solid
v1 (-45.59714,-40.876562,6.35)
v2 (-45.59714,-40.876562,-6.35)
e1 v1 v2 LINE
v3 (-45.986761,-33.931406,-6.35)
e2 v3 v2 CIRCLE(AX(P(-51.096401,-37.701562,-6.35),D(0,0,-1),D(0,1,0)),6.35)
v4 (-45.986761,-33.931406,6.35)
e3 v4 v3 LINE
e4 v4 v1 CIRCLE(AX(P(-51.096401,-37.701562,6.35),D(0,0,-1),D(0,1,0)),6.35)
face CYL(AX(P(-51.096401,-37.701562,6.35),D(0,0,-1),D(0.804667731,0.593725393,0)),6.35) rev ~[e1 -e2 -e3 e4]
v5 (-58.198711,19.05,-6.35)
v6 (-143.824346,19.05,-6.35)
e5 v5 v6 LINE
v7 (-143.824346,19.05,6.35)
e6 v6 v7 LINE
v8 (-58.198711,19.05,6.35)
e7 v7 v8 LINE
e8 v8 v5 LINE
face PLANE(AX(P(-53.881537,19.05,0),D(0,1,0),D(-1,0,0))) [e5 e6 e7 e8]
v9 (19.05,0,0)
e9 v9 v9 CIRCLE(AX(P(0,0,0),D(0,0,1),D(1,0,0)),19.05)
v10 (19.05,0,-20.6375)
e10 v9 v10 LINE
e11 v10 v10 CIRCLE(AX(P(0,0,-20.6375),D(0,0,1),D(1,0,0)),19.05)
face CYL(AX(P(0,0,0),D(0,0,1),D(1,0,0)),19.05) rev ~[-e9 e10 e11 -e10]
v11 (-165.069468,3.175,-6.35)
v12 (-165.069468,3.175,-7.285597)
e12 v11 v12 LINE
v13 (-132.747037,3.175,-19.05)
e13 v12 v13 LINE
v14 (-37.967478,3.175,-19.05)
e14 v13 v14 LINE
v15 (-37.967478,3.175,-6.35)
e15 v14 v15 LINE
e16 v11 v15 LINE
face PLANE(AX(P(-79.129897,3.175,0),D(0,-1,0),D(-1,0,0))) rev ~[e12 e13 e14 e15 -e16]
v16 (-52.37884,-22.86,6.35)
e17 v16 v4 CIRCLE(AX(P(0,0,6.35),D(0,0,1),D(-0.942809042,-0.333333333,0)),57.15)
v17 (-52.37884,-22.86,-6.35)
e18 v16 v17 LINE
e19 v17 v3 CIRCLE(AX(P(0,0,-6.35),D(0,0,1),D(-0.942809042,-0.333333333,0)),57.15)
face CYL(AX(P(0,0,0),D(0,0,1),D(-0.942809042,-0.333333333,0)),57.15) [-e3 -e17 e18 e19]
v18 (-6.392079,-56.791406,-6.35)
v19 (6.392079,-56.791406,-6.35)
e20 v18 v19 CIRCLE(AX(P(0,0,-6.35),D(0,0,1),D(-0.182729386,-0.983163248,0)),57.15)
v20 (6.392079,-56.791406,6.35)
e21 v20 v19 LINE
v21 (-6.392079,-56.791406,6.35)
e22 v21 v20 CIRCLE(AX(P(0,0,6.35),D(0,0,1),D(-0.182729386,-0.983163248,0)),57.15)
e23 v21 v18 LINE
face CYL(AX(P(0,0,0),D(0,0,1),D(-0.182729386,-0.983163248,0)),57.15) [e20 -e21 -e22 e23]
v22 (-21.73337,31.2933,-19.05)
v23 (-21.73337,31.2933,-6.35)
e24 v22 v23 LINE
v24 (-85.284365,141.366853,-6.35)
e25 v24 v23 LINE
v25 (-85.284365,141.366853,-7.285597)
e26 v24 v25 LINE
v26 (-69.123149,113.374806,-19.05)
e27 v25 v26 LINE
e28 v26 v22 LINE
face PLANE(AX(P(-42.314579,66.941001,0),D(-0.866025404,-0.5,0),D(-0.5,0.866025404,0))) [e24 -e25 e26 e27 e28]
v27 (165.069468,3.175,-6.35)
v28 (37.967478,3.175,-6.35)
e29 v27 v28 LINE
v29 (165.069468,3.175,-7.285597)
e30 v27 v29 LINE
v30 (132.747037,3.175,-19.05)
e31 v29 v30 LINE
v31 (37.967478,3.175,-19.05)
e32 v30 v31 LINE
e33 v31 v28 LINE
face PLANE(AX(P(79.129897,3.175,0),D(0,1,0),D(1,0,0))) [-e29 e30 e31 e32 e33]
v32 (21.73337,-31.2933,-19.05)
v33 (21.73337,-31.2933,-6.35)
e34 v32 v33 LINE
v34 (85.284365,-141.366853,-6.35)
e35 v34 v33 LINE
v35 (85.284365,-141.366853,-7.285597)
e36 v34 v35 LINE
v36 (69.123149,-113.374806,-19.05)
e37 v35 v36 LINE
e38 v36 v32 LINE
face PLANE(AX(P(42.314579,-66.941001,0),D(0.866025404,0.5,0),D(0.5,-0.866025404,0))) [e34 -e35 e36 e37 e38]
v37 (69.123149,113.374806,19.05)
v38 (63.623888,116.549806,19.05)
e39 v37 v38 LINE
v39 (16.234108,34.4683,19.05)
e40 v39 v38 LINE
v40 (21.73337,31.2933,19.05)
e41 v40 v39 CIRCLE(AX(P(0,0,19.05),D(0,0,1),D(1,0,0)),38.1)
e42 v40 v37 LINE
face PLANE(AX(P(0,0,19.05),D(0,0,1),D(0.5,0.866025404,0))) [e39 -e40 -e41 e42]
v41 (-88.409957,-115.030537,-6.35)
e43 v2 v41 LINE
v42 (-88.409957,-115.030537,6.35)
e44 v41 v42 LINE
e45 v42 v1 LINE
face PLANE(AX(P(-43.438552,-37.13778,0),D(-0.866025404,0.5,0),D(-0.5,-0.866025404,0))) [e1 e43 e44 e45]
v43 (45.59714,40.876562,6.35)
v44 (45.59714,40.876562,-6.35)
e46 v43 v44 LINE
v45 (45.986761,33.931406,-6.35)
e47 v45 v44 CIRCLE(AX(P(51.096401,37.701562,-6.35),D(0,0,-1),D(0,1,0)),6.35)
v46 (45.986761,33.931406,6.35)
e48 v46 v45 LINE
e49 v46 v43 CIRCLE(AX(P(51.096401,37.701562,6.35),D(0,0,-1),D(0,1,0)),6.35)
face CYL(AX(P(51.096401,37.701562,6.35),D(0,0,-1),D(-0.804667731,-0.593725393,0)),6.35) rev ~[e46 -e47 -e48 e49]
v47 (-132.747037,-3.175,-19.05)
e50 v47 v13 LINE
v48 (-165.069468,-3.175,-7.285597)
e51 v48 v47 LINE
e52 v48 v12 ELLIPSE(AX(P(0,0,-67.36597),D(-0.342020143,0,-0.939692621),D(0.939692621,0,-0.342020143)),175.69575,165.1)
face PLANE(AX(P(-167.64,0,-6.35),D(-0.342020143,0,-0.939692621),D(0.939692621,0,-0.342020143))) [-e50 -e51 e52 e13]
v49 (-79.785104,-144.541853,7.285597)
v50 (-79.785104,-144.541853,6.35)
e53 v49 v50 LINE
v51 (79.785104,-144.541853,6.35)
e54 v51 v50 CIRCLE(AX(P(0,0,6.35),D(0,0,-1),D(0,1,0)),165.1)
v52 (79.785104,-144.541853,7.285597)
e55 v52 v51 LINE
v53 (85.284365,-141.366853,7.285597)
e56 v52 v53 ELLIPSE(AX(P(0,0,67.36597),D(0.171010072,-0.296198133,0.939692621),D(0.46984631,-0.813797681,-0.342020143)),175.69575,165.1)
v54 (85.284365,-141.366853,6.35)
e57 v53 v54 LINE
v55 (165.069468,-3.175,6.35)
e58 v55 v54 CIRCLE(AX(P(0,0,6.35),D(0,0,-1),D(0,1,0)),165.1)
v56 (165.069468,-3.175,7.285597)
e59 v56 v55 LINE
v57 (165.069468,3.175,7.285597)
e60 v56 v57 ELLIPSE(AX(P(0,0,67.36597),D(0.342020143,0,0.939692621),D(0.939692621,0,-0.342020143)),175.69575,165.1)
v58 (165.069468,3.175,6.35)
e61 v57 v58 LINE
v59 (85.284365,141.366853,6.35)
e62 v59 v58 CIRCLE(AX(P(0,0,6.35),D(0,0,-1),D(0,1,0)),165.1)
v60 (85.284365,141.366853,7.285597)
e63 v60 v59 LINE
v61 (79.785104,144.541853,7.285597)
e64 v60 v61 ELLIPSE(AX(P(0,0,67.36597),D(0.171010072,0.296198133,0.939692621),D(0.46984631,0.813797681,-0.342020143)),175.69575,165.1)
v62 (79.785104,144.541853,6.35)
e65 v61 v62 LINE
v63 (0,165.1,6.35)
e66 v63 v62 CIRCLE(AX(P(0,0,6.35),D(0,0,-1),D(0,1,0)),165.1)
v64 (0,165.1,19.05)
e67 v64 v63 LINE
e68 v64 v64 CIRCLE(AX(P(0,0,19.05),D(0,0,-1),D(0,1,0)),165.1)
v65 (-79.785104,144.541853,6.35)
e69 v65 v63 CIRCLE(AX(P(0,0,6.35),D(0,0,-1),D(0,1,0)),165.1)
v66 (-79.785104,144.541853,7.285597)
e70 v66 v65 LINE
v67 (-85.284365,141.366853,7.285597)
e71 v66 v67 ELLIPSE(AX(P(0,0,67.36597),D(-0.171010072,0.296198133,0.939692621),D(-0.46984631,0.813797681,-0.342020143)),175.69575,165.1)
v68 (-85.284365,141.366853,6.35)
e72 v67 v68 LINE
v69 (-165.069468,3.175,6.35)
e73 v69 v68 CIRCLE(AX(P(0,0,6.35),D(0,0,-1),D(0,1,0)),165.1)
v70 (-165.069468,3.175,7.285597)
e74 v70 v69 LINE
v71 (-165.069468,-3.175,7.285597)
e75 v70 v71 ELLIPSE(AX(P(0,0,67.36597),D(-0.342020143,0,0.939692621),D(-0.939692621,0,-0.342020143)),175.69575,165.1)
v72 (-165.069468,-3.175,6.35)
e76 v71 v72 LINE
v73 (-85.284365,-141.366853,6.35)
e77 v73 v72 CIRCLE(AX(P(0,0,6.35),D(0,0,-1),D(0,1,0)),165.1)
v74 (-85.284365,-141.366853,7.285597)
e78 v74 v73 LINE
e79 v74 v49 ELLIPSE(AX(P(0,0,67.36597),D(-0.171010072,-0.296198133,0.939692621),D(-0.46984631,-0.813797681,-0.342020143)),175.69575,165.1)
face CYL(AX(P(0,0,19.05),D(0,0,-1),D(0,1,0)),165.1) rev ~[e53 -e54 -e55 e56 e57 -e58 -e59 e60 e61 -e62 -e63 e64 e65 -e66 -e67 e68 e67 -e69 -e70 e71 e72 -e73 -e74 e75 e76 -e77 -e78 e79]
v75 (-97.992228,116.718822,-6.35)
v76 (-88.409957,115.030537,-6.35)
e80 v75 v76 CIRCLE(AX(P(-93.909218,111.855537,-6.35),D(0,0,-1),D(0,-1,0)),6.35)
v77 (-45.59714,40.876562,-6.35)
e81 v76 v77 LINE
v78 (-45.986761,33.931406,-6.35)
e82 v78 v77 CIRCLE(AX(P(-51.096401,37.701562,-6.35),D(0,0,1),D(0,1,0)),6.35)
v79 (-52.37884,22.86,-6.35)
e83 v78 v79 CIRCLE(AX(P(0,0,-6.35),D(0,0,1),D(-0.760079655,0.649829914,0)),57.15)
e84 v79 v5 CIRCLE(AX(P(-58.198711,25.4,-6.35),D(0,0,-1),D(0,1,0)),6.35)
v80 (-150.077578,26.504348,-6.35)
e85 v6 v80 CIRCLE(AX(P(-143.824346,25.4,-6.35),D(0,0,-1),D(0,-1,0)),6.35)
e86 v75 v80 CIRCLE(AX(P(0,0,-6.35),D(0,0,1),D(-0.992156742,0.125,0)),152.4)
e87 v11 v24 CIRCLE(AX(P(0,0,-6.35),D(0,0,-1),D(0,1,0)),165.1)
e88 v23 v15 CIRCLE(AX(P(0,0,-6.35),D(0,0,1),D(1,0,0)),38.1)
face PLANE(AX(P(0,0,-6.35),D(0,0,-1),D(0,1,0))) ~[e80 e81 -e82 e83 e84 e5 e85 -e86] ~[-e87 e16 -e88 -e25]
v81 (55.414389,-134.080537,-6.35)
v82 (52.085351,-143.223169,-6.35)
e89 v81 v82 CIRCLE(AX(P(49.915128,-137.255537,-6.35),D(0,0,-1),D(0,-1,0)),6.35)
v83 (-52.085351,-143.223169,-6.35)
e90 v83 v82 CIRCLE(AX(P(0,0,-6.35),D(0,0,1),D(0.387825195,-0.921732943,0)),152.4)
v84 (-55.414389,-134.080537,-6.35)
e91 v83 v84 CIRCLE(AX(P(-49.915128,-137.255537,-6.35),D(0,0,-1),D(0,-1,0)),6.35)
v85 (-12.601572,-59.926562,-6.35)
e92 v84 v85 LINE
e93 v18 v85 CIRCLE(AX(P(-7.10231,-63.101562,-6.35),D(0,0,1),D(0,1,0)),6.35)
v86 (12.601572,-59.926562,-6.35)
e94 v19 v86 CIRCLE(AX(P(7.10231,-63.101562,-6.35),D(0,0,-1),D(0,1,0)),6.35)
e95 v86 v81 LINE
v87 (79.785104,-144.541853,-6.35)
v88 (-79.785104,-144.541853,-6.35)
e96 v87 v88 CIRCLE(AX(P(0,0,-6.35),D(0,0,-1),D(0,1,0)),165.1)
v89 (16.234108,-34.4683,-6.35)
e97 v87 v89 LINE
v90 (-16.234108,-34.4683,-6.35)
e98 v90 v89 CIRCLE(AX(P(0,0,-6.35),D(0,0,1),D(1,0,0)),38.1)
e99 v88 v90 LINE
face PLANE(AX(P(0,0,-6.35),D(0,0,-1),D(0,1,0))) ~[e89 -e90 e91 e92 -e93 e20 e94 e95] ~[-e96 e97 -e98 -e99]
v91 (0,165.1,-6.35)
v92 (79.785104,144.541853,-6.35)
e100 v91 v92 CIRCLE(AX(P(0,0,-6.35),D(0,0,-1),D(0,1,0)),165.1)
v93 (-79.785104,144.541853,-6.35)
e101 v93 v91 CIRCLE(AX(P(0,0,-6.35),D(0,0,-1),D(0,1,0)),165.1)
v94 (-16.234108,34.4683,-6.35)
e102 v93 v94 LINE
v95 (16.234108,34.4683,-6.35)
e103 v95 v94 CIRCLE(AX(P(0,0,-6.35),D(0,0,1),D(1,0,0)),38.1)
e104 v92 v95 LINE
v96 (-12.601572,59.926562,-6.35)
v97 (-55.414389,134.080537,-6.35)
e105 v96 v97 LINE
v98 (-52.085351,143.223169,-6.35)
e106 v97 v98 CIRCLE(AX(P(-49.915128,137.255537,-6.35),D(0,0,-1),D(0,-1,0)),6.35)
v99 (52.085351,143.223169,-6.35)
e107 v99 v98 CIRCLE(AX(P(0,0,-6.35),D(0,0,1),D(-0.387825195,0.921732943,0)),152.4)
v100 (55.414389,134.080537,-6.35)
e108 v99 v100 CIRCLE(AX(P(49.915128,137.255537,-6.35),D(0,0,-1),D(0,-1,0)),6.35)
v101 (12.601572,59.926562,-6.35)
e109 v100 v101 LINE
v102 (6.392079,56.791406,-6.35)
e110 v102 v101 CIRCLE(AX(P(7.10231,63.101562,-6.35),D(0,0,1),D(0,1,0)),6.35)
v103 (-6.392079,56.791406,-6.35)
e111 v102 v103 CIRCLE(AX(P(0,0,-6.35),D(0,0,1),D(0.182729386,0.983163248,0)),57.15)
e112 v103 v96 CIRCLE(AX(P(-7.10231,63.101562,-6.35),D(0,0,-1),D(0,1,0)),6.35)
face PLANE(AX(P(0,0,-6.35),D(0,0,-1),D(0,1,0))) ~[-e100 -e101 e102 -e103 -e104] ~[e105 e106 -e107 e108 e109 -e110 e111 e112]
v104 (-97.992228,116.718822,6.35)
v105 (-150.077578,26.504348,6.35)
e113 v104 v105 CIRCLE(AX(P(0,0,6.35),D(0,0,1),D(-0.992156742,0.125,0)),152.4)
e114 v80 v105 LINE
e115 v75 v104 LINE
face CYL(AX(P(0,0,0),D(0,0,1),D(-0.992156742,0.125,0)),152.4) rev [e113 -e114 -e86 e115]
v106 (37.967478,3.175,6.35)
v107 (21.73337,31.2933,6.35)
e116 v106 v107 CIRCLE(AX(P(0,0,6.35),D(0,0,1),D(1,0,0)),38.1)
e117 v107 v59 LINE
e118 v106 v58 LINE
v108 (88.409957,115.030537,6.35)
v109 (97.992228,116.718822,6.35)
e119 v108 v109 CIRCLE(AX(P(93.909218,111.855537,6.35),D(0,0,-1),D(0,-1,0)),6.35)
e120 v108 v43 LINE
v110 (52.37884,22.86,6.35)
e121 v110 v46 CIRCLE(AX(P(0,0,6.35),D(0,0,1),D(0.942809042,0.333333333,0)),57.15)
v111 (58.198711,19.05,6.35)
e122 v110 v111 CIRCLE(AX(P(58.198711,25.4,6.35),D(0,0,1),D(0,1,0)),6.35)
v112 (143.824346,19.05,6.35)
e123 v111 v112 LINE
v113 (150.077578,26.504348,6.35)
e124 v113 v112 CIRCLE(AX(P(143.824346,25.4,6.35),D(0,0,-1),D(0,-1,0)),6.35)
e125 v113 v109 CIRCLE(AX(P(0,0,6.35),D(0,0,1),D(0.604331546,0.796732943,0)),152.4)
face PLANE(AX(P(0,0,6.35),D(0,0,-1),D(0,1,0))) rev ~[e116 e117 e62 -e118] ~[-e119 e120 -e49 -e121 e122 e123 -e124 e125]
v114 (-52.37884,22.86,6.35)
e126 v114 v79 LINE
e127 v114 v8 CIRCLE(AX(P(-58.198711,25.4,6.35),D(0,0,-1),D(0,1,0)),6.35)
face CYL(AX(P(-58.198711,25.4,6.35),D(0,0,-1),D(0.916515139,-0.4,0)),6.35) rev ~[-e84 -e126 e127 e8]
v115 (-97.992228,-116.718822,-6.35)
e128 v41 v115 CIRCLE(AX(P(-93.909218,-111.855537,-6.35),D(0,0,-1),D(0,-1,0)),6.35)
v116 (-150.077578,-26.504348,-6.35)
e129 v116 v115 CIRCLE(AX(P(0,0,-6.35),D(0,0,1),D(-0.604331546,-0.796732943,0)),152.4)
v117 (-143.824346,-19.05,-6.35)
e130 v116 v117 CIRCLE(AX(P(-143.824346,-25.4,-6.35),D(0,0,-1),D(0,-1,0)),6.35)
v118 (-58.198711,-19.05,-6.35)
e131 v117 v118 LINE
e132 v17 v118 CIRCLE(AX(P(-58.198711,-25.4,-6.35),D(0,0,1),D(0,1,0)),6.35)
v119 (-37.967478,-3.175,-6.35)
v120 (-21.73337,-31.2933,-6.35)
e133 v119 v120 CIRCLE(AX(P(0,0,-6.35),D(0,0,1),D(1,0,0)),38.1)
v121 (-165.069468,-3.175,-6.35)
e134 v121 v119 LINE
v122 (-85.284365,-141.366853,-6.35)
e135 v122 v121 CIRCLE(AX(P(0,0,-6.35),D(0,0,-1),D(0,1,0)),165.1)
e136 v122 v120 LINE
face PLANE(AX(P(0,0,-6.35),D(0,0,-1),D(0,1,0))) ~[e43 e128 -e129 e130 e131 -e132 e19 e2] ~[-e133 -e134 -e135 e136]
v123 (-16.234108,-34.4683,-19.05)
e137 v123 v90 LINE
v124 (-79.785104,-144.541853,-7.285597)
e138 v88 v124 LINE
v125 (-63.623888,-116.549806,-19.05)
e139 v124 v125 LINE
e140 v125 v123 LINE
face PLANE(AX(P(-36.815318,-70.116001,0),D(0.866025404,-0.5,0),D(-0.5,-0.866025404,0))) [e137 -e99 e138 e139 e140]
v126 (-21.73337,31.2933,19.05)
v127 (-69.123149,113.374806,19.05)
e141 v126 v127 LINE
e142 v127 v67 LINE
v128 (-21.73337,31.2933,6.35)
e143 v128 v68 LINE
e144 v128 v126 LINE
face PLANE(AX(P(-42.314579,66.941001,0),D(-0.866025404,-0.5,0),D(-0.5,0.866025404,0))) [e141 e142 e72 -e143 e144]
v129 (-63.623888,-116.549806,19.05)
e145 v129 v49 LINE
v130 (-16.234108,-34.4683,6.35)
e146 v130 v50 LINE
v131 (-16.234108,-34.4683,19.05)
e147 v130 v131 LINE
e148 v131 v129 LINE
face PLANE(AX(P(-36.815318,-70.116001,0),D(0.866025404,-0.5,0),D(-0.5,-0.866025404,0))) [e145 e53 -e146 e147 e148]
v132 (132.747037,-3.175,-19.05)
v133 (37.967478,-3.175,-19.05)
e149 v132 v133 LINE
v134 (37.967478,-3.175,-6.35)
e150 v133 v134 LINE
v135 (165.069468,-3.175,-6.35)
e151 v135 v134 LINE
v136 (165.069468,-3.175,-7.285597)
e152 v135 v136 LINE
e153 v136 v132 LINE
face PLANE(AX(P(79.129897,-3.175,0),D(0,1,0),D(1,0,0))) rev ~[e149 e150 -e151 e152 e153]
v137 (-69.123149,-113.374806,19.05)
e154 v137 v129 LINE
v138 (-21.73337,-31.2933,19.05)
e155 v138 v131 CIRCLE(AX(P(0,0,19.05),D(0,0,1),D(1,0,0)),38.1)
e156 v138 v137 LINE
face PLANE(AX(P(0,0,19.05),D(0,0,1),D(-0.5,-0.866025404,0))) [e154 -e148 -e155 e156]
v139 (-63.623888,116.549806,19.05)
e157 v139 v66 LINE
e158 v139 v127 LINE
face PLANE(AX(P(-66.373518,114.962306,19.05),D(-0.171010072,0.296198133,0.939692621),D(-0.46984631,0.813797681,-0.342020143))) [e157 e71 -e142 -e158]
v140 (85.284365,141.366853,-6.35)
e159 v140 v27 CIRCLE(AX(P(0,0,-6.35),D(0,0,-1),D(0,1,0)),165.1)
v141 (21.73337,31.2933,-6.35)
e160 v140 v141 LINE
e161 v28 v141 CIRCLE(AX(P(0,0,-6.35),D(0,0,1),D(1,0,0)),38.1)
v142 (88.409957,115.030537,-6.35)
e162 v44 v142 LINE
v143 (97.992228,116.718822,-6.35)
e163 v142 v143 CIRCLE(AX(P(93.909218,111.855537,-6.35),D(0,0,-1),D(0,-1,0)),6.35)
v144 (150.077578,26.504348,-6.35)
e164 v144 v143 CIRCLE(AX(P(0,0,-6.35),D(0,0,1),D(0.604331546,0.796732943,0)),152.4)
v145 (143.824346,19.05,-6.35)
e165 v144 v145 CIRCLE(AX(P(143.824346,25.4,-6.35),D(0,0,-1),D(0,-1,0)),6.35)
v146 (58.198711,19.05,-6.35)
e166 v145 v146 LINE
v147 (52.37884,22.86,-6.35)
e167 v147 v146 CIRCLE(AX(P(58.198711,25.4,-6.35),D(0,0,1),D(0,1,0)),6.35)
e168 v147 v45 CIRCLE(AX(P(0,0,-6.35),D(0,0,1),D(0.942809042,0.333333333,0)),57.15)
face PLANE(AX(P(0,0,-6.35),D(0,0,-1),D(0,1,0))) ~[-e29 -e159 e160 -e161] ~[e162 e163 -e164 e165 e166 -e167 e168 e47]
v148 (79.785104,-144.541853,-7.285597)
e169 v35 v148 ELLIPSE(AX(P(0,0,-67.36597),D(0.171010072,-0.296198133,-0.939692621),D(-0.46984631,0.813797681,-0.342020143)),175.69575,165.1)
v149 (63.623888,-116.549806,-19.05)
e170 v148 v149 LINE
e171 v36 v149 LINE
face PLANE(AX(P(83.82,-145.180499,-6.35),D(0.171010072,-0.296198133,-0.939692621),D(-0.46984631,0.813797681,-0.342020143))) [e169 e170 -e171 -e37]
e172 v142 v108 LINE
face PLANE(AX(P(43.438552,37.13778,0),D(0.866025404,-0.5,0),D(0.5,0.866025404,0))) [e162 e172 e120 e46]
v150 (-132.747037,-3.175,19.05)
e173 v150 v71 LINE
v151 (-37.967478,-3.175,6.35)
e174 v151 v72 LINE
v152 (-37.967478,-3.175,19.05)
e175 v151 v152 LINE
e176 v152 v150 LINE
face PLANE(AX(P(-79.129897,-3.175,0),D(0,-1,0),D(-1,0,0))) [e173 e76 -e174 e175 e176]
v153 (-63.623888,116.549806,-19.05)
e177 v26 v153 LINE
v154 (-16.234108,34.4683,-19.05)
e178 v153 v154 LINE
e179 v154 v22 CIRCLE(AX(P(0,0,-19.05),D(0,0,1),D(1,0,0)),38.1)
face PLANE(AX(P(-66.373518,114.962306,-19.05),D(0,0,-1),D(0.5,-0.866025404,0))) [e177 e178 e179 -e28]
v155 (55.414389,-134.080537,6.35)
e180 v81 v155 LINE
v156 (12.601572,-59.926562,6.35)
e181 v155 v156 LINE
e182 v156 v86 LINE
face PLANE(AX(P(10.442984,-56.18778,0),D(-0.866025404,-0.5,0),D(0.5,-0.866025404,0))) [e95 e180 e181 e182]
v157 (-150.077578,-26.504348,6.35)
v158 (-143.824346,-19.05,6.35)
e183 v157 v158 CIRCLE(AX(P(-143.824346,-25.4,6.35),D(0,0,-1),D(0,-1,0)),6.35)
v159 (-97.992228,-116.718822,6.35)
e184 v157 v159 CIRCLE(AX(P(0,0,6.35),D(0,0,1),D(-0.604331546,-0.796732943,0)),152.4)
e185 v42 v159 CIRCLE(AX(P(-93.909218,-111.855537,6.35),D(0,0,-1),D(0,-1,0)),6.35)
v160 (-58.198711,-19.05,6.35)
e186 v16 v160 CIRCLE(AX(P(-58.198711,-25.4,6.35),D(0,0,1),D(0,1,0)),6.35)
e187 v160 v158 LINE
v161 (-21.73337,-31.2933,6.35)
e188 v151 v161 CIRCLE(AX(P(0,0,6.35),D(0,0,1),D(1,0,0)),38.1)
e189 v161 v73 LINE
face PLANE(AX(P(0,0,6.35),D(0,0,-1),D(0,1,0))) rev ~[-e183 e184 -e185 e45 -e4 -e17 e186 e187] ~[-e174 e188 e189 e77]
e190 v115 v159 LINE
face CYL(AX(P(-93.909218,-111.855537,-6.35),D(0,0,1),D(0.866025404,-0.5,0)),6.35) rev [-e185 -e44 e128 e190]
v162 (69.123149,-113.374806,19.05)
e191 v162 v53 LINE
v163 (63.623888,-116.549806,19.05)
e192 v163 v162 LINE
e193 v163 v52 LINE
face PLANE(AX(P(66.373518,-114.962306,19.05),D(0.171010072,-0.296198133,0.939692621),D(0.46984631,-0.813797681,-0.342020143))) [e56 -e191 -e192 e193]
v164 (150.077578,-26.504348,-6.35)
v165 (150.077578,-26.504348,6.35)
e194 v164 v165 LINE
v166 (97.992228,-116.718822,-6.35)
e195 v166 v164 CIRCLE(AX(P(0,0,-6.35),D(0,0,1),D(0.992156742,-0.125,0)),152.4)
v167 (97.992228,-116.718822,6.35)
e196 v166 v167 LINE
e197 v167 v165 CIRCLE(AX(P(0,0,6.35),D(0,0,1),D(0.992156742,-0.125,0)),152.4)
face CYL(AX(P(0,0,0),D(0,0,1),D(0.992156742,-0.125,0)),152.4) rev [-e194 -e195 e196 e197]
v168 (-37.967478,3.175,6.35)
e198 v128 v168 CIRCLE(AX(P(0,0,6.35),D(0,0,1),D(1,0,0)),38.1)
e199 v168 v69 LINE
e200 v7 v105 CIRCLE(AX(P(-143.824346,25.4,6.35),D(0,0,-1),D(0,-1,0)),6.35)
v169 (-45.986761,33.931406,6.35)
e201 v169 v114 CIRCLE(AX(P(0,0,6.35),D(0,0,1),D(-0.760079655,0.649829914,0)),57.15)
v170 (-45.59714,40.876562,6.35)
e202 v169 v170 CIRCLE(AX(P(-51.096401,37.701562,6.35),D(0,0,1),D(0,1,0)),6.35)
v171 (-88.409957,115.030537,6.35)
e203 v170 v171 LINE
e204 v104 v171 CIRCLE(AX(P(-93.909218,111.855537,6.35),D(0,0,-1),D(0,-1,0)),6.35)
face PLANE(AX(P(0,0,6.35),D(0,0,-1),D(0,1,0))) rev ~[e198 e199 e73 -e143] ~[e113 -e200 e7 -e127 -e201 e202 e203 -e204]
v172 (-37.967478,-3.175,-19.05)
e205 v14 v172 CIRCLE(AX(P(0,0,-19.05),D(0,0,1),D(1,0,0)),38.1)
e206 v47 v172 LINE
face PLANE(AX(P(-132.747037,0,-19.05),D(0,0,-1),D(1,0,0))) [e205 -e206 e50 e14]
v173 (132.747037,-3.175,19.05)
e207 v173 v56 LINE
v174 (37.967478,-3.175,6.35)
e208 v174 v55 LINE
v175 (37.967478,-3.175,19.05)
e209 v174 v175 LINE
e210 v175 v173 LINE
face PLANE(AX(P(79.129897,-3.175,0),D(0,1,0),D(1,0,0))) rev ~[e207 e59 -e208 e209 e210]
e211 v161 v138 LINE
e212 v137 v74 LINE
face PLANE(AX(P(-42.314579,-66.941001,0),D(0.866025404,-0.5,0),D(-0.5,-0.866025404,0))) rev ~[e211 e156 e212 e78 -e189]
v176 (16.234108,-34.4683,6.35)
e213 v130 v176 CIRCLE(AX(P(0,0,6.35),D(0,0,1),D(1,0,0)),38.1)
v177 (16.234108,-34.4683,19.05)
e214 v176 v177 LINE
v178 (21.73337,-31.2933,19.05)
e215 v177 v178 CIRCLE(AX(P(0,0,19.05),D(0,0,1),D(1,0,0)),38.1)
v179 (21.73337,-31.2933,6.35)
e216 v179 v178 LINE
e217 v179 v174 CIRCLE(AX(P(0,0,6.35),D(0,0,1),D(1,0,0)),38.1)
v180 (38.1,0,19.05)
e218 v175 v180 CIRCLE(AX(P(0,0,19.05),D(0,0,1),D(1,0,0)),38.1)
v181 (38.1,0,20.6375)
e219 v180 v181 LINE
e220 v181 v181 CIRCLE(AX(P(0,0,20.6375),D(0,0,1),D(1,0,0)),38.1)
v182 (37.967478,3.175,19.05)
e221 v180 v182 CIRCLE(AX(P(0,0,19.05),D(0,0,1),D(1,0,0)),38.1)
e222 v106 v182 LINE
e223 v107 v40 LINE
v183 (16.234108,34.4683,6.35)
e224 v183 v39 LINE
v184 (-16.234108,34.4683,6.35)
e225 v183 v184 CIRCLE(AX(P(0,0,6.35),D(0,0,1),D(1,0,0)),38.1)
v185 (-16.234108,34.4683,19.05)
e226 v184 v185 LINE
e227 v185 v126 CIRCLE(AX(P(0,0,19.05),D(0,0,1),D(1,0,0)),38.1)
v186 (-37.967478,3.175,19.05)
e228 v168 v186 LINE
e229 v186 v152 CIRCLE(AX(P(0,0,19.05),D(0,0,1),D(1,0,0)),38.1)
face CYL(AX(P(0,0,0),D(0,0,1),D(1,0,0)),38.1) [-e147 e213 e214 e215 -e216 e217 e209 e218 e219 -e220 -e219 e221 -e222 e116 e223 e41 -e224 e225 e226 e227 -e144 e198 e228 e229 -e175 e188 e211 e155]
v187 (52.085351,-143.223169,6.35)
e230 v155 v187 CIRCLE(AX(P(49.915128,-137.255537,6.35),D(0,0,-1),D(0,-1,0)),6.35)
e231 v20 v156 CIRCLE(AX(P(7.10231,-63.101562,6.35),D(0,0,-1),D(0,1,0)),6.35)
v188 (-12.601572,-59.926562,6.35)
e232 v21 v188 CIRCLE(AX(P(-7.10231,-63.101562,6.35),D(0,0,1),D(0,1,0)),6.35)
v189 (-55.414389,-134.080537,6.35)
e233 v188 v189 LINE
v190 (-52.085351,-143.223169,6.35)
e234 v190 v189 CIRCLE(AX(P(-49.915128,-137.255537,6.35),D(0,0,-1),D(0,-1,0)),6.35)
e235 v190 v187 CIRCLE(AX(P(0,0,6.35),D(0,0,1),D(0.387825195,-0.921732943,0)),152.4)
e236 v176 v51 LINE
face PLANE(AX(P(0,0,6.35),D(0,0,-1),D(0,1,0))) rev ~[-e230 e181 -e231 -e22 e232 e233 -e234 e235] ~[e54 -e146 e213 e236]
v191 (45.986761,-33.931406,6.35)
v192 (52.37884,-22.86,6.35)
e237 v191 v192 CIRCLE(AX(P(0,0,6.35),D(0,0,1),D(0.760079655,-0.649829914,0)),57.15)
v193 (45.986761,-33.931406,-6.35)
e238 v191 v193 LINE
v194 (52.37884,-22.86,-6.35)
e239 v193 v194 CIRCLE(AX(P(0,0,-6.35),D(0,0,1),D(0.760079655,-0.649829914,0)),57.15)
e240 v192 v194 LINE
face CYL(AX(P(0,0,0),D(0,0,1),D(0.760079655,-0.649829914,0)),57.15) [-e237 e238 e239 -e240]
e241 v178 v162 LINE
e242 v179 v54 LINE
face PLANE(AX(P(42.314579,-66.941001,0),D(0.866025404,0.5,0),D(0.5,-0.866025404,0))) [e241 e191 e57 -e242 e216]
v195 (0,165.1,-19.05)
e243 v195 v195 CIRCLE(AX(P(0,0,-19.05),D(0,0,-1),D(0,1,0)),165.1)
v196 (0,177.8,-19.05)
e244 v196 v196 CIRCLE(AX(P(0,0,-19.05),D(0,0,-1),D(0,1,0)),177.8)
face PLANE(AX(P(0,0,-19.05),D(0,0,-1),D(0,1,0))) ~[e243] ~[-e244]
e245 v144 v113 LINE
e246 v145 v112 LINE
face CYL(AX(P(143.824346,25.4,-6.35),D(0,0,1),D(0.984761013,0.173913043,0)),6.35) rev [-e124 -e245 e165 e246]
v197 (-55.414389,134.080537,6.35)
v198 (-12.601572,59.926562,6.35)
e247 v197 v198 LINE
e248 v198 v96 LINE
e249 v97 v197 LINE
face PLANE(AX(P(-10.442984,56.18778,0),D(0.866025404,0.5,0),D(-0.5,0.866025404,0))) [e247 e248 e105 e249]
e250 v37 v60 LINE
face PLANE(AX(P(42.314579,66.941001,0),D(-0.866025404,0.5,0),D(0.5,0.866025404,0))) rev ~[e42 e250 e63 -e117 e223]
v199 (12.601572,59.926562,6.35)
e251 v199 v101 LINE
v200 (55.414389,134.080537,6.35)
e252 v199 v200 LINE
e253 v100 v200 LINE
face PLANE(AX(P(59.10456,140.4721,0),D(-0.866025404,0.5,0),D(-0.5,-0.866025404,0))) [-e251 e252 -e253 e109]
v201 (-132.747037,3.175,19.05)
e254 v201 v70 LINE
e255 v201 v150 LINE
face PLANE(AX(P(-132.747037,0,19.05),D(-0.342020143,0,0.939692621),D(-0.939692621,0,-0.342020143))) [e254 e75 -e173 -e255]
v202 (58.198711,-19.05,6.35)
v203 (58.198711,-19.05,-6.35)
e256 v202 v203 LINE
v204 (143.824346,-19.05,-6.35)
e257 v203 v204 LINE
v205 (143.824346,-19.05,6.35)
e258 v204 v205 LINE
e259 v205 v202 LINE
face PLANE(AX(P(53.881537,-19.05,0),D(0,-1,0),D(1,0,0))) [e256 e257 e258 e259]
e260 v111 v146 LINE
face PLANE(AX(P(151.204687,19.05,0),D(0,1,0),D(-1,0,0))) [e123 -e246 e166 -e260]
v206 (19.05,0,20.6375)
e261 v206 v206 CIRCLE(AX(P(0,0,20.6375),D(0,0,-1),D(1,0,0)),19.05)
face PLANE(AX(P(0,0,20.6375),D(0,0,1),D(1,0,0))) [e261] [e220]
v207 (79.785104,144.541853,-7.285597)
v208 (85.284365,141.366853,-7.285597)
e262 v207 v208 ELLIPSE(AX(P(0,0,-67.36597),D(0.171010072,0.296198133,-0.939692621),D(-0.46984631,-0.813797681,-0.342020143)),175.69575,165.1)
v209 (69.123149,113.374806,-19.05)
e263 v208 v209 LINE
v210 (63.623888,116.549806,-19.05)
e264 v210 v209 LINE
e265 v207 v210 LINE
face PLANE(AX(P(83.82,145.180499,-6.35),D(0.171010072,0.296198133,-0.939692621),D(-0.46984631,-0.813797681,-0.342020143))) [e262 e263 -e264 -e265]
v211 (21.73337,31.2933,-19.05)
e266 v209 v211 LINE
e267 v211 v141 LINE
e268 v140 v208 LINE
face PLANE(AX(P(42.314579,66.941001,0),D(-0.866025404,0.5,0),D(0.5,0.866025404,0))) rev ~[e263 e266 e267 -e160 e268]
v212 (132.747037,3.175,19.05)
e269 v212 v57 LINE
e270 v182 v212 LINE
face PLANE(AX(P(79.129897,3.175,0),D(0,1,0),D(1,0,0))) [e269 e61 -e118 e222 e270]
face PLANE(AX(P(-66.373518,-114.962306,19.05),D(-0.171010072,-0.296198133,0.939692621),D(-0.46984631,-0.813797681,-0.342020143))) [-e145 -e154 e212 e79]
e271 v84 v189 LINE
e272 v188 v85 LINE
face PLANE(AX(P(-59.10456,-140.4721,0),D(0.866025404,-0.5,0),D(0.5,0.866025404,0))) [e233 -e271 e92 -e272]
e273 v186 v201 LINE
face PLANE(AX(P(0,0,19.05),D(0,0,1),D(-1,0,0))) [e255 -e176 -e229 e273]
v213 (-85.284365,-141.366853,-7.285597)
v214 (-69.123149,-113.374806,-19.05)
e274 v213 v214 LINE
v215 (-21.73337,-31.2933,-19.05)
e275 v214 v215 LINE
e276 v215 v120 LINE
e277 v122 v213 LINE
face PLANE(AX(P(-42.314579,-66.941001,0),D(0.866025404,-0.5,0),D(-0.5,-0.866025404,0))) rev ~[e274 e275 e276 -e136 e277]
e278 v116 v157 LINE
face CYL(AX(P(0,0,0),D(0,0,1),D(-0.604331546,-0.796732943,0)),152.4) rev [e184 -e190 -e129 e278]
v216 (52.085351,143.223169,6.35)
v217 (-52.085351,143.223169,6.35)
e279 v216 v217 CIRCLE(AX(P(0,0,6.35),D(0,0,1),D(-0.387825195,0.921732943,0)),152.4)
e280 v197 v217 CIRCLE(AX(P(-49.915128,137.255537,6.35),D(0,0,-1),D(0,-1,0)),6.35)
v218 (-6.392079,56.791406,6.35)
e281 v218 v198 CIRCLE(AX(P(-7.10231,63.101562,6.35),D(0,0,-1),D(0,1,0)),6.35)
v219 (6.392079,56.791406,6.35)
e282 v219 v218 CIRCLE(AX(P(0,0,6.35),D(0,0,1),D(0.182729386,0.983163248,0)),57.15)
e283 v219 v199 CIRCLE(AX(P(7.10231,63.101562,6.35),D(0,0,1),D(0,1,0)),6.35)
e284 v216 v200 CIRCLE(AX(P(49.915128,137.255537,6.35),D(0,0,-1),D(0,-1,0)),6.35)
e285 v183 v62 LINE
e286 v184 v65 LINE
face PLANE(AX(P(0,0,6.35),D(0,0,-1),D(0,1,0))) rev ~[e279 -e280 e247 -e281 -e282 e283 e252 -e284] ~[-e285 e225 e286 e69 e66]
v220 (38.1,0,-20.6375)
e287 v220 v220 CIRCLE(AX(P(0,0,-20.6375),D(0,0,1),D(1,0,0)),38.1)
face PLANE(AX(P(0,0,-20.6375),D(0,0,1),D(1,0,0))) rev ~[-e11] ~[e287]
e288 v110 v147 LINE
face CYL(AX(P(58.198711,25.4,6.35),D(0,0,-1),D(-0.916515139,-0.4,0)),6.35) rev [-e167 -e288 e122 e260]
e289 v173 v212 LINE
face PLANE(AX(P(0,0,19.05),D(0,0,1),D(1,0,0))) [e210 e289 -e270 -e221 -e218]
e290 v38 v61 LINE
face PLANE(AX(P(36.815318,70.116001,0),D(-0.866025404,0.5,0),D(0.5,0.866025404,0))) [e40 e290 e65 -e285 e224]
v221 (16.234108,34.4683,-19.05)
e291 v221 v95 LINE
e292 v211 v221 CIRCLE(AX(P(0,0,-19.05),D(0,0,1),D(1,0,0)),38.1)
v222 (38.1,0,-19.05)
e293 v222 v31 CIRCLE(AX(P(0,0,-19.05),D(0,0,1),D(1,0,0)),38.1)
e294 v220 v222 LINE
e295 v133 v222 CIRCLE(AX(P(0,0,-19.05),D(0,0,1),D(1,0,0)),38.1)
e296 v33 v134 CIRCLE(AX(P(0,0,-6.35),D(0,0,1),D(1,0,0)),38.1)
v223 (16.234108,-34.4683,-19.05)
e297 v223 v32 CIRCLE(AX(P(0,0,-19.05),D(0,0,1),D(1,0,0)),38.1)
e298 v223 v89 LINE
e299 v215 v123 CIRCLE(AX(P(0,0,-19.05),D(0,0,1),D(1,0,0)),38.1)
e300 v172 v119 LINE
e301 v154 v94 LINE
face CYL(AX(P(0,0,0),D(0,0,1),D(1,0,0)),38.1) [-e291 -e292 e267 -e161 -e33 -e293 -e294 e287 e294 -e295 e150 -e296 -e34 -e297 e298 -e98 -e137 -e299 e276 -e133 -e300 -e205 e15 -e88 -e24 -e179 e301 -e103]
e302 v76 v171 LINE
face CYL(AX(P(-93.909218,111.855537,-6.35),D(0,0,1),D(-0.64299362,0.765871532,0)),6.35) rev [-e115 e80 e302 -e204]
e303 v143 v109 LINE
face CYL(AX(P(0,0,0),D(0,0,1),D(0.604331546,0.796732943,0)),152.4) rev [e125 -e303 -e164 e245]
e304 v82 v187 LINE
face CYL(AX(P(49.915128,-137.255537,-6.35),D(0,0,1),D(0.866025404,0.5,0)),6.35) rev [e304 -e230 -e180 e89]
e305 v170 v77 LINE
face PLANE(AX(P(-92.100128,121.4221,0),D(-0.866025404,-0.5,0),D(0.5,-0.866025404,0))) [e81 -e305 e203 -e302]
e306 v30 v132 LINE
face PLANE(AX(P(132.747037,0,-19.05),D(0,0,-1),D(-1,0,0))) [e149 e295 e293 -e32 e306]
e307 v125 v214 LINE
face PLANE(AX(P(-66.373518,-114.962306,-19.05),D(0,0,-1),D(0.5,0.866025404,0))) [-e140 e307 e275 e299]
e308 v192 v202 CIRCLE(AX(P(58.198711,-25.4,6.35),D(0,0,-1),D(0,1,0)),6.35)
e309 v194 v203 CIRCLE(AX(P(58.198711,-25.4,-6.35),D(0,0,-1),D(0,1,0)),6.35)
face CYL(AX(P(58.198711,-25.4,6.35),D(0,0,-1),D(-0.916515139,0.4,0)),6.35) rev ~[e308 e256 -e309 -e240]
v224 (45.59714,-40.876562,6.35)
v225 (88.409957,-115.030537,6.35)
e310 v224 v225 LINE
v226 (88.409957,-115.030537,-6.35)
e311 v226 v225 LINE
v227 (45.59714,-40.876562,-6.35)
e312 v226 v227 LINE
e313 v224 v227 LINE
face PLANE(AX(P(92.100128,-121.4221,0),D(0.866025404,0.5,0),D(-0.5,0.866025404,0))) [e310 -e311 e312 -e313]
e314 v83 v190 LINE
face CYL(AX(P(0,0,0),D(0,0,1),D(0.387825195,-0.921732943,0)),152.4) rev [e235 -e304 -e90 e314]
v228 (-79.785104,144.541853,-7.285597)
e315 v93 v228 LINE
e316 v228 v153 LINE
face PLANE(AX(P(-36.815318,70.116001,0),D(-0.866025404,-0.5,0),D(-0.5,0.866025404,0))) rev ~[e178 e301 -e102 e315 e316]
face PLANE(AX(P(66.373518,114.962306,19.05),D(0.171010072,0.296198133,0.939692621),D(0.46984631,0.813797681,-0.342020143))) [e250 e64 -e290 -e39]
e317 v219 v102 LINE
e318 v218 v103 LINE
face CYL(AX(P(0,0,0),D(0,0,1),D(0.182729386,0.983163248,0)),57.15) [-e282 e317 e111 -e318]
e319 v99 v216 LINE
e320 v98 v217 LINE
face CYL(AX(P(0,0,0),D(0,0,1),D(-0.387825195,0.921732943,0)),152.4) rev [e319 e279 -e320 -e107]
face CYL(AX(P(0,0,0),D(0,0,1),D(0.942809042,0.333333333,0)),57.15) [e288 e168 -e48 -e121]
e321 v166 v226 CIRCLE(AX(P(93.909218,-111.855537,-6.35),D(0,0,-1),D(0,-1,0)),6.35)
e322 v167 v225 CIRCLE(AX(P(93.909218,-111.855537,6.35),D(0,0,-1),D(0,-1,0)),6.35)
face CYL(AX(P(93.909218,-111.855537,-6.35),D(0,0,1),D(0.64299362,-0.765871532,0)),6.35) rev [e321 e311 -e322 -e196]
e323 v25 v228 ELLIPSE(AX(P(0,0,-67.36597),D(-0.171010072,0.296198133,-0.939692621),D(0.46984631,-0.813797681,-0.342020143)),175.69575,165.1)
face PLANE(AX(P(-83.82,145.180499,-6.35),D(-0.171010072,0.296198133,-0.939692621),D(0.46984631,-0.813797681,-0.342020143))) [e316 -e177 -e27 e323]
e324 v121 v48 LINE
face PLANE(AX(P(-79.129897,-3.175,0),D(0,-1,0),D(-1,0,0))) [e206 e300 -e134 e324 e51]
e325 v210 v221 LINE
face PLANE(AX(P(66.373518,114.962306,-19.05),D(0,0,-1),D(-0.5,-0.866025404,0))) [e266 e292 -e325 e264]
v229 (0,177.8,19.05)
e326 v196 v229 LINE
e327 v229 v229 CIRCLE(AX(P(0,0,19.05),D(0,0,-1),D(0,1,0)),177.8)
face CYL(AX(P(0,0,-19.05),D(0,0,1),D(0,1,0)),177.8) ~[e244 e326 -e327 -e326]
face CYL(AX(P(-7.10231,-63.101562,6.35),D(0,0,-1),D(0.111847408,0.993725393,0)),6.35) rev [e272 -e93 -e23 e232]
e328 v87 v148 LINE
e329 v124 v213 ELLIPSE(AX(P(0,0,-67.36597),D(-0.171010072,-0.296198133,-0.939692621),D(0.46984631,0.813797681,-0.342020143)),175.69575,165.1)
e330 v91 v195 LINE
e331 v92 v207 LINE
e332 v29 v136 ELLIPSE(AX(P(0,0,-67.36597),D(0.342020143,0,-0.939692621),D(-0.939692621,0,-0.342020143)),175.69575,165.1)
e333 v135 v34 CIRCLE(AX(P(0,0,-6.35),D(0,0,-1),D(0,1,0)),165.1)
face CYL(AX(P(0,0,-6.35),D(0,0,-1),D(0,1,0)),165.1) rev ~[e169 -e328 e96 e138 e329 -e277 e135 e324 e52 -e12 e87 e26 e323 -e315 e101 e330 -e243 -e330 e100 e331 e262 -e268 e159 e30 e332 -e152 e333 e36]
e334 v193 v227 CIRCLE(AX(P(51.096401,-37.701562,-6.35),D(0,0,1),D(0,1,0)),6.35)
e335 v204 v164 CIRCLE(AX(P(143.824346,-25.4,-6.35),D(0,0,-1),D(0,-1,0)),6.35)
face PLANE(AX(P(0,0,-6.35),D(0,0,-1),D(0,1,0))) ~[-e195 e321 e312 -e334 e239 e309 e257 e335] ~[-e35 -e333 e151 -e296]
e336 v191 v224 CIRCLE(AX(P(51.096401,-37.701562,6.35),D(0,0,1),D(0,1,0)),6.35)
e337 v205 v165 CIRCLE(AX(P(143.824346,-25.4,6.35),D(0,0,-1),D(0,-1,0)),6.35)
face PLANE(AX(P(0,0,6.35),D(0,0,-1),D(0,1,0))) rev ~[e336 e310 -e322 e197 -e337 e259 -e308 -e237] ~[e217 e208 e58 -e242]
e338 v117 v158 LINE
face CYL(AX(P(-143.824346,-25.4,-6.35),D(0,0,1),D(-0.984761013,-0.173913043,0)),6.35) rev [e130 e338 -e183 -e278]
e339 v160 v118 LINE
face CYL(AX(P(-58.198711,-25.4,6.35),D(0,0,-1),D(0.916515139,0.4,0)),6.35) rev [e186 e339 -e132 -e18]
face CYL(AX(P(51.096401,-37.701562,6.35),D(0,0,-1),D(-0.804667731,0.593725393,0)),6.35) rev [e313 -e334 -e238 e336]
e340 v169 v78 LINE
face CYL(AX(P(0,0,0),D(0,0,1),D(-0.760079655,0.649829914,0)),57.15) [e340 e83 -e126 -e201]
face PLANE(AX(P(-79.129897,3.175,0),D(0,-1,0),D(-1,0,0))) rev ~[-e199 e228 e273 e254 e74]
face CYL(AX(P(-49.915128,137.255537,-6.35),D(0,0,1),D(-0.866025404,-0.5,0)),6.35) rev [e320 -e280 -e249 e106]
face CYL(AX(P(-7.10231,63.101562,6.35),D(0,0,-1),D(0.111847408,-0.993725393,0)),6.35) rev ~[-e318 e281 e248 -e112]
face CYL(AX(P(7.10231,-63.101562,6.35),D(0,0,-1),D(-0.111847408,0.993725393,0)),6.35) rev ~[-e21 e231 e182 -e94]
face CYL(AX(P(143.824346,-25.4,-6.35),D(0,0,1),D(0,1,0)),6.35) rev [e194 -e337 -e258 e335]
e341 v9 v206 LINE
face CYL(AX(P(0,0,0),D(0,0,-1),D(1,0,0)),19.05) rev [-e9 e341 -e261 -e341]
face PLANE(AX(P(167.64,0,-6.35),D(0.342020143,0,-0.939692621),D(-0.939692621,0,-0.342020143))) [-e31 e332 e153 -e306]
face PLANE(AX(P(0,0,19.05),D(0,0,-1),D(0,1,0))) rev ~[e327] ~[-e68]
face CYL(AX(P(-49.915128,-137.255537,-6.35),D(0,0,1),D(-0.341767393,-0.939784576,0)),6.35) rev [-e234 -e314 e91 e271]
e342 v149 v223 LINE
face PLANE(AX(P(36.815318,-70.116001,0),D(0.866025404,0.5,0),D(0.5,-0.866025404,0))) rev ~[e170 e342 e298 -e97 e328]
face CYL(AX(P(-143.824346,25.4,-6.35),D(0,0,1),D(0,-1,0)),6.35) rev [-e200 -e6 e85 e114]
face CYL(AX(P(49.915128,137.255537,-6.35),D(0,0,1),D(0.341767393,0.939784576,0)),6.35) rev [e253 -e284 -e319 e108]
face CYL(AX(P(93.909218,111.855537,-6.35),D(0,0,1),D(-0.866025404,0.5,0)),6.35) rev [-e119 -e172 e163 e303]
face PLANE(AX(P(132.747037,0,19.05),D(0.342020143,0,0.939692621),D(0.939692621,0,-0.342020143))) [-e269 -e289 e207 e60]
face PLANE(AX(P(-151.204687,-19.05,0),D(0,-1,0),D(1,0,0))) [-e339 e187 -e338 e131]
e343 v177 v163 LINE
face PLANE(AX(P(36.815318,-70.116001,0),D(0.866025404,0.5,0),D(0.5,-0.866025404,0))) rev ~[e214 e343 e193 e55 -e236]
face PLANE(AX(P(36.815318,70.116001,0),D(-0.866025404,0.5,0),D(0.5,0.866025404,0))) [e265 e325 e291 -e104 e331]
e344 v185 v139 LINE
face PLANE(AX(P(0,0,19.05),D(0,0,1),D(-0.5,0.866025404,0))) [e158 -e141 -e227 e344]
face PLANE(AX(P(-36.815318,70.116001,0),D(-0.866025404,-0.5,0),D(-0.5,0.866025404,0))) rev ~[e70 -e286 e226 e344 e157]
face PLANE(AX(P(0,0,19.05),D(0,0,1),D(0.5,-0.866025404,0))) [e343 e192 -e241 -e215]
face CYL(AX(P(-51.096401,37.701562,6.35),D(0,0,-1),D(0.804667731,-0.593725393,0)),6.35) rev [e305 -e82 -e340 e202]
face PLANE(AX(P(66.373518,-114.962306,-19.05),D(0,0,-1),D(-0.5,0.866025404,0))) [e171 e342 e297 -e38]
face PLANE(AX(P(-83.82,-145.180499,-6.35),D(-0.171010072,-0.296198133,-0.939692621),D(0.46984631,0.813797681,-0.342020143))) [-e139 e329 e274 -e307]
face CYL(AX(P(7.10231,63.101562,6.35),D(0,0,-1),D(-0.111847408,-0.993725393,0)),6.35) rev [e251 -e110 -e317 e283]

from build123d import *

# Parameters (mm, degrees)
SKETCH1_R                = 38.1
CENTERHUB_DEPTH          = 20.6375
RIB_DEPTH                = 3.175
LIGHTENING_HOLE_DEPTH    = 21.6375
FILLET1_R                = 6.35
CIRPATTERN1_COUNT        = 6
FILLET1_OF_CIRPATTERN1_R = 6.35
SKETCH5_R                = 19.05
THRU_HOLE_DEPTH          = 21.6375
THRU_HOLE_DEPTH_BACK     = 21.6375


with BuildPart() as part:
    # Sketch1 → CenterHub (new body, symmetric)
    with BuildSketch(Plane.XY):
        Circle(SKETCH1_R)
    extrude(amount=CENTERHUB_DEPTH, both=True)

    # Sketch2 → Rim and Web (revolve)
    with BuildSketch(Plane(origin=(0, 0, 0), x_dir=(0, 0, -1), z_dir=(1, 0, 0))):
        Polygon((-6.35, 0), (6.35, 0), (6.35, 165.1), (19.05, 165.1), (19.05, 177.8), (-19.05, 177.8), (-19.05, 165.1), (-6.35, 165.1), align=None)
    revolve(axis=Axis((0, 0, 0), (0, 0, -1)))

    # Sketch3 → Rib (add, symmetric)
    with BuildSketch(Plane(origin=(0, 0, 0), x_dir=(1, 0, 0), z_dir=(0, 1, 0))):
        Polygon((0, -19.05), (132.747036773, -19.05), (167.64, -6.35), (167.64, 6.35), (132.747036773, 19.05), (0, 19.05), align=None)
    rib = extrude(amount=RIB_DEPTH, both=True)

    # Sketch4 → Lightening hole (cut, symmetric)
    with BuildSketch(Plane.XY):
        with BuildLine():
            Line((92.100127656, -121.422100483), (43.438552305, -37.1377796))
            ThreePointArc((43.438552305, -37.1377796), (49.493351826, -28.575), (53.881536726, -19.05))
            Line((53.881536726, -19.05), (151.204687427, -19.05))
            ThreePointArc((151.204687427, -19.05), (131.982271537, -76.2), (92.100127656, -121.422100483))
        make_face()
    lightening_hole = extrude(amount=LIGHTENING_HOLE_DEPTH, both=True, mode=Mode.SUBTRACT)

    # Fillet1
    fillet1_edges = [part.edges().sort_by_distance(p)[0] for p in [
        (151.204687427, -19.05, 0),
        (92.100127656, -121.422100483, 0),
        (43.438552305, -37.1377796, 0),
        (53.881536726, -19.05, 0),
    ]]
    fillet(fillet1_edges, radius=FILLET1_R)

    # CirPattern1: Rib, Lightening hole ×6 about axis
    cirpattern1_axis = Axis((0, 0, 0), (0, 0, 1))
    for i in range(1, CIRPATTERN1_COUNT):
        add(rib.rotate(cirpattern1_axis, i * 360 / CIRPATTERN1_COUNT))
        add(lightening_hole.rotate(cirpattern1_axis, i * 360 / CIRPATTERN1_COUNT), mode=Mode.SUBTRACT)

    # Fillet1 of CirPattern1
    fillet1_of_cirpattern1_edges = [part.edges().sort_by_distance(p)[0] for p in [
        (92.100127656, 121.422100483, 0),
        (151.204687427, 19.05, 0),
        (53.881536726, 19.05, 0),
        (43.438552305, 37.1377796, 0),
        (-59.104559772, 140.472100483, 0),
        (59.104559772, 140.472100483, 0),
        (10.442984421, 56.1877796, 0),
        (-10.442984421, 56.1877796, 0),
        (-151.204687427, 19.05, 0),
        (-92.100127656, 121.422100483, 0),
        (-43.438552305, 37.1377796, 0),
        (-53.881536726, 19.05, 0),
        (-92.100127656, -121.422100483, 0),
        (-151.204687427, -19.05, 0),
        (-53.881536726, -19.05, 0),
        (-43.438552305, -37.1377796, 0),
        (59.104559772, -140.472100483, 0),
        (-59.104559772, -140.472100483, 0),
        (-10.442984421, -56.1877796, 0),
        (10.442984421, -56.1877796, 0),
    ]]
    fillet(fillet1_of_cirpattern1_edges, radius=FILLET1_OF_CIRPATTERN1_R)

    # Sketch5 → Thru hole (cut, two sides)
    with BuildSketch(Plane.XY) as thru_hole_sk:
        Circle(SKETCH5_R)
    extrude(amount=THRU_HOLE_DEPTH, mode=Mode.SUBTRACT)
    extrude(thru_hole_sk.sketch, amount=-THRU_HOLE_DEPTH_BACK, mode=Mode.SUBTRACT)


solid = part.part
